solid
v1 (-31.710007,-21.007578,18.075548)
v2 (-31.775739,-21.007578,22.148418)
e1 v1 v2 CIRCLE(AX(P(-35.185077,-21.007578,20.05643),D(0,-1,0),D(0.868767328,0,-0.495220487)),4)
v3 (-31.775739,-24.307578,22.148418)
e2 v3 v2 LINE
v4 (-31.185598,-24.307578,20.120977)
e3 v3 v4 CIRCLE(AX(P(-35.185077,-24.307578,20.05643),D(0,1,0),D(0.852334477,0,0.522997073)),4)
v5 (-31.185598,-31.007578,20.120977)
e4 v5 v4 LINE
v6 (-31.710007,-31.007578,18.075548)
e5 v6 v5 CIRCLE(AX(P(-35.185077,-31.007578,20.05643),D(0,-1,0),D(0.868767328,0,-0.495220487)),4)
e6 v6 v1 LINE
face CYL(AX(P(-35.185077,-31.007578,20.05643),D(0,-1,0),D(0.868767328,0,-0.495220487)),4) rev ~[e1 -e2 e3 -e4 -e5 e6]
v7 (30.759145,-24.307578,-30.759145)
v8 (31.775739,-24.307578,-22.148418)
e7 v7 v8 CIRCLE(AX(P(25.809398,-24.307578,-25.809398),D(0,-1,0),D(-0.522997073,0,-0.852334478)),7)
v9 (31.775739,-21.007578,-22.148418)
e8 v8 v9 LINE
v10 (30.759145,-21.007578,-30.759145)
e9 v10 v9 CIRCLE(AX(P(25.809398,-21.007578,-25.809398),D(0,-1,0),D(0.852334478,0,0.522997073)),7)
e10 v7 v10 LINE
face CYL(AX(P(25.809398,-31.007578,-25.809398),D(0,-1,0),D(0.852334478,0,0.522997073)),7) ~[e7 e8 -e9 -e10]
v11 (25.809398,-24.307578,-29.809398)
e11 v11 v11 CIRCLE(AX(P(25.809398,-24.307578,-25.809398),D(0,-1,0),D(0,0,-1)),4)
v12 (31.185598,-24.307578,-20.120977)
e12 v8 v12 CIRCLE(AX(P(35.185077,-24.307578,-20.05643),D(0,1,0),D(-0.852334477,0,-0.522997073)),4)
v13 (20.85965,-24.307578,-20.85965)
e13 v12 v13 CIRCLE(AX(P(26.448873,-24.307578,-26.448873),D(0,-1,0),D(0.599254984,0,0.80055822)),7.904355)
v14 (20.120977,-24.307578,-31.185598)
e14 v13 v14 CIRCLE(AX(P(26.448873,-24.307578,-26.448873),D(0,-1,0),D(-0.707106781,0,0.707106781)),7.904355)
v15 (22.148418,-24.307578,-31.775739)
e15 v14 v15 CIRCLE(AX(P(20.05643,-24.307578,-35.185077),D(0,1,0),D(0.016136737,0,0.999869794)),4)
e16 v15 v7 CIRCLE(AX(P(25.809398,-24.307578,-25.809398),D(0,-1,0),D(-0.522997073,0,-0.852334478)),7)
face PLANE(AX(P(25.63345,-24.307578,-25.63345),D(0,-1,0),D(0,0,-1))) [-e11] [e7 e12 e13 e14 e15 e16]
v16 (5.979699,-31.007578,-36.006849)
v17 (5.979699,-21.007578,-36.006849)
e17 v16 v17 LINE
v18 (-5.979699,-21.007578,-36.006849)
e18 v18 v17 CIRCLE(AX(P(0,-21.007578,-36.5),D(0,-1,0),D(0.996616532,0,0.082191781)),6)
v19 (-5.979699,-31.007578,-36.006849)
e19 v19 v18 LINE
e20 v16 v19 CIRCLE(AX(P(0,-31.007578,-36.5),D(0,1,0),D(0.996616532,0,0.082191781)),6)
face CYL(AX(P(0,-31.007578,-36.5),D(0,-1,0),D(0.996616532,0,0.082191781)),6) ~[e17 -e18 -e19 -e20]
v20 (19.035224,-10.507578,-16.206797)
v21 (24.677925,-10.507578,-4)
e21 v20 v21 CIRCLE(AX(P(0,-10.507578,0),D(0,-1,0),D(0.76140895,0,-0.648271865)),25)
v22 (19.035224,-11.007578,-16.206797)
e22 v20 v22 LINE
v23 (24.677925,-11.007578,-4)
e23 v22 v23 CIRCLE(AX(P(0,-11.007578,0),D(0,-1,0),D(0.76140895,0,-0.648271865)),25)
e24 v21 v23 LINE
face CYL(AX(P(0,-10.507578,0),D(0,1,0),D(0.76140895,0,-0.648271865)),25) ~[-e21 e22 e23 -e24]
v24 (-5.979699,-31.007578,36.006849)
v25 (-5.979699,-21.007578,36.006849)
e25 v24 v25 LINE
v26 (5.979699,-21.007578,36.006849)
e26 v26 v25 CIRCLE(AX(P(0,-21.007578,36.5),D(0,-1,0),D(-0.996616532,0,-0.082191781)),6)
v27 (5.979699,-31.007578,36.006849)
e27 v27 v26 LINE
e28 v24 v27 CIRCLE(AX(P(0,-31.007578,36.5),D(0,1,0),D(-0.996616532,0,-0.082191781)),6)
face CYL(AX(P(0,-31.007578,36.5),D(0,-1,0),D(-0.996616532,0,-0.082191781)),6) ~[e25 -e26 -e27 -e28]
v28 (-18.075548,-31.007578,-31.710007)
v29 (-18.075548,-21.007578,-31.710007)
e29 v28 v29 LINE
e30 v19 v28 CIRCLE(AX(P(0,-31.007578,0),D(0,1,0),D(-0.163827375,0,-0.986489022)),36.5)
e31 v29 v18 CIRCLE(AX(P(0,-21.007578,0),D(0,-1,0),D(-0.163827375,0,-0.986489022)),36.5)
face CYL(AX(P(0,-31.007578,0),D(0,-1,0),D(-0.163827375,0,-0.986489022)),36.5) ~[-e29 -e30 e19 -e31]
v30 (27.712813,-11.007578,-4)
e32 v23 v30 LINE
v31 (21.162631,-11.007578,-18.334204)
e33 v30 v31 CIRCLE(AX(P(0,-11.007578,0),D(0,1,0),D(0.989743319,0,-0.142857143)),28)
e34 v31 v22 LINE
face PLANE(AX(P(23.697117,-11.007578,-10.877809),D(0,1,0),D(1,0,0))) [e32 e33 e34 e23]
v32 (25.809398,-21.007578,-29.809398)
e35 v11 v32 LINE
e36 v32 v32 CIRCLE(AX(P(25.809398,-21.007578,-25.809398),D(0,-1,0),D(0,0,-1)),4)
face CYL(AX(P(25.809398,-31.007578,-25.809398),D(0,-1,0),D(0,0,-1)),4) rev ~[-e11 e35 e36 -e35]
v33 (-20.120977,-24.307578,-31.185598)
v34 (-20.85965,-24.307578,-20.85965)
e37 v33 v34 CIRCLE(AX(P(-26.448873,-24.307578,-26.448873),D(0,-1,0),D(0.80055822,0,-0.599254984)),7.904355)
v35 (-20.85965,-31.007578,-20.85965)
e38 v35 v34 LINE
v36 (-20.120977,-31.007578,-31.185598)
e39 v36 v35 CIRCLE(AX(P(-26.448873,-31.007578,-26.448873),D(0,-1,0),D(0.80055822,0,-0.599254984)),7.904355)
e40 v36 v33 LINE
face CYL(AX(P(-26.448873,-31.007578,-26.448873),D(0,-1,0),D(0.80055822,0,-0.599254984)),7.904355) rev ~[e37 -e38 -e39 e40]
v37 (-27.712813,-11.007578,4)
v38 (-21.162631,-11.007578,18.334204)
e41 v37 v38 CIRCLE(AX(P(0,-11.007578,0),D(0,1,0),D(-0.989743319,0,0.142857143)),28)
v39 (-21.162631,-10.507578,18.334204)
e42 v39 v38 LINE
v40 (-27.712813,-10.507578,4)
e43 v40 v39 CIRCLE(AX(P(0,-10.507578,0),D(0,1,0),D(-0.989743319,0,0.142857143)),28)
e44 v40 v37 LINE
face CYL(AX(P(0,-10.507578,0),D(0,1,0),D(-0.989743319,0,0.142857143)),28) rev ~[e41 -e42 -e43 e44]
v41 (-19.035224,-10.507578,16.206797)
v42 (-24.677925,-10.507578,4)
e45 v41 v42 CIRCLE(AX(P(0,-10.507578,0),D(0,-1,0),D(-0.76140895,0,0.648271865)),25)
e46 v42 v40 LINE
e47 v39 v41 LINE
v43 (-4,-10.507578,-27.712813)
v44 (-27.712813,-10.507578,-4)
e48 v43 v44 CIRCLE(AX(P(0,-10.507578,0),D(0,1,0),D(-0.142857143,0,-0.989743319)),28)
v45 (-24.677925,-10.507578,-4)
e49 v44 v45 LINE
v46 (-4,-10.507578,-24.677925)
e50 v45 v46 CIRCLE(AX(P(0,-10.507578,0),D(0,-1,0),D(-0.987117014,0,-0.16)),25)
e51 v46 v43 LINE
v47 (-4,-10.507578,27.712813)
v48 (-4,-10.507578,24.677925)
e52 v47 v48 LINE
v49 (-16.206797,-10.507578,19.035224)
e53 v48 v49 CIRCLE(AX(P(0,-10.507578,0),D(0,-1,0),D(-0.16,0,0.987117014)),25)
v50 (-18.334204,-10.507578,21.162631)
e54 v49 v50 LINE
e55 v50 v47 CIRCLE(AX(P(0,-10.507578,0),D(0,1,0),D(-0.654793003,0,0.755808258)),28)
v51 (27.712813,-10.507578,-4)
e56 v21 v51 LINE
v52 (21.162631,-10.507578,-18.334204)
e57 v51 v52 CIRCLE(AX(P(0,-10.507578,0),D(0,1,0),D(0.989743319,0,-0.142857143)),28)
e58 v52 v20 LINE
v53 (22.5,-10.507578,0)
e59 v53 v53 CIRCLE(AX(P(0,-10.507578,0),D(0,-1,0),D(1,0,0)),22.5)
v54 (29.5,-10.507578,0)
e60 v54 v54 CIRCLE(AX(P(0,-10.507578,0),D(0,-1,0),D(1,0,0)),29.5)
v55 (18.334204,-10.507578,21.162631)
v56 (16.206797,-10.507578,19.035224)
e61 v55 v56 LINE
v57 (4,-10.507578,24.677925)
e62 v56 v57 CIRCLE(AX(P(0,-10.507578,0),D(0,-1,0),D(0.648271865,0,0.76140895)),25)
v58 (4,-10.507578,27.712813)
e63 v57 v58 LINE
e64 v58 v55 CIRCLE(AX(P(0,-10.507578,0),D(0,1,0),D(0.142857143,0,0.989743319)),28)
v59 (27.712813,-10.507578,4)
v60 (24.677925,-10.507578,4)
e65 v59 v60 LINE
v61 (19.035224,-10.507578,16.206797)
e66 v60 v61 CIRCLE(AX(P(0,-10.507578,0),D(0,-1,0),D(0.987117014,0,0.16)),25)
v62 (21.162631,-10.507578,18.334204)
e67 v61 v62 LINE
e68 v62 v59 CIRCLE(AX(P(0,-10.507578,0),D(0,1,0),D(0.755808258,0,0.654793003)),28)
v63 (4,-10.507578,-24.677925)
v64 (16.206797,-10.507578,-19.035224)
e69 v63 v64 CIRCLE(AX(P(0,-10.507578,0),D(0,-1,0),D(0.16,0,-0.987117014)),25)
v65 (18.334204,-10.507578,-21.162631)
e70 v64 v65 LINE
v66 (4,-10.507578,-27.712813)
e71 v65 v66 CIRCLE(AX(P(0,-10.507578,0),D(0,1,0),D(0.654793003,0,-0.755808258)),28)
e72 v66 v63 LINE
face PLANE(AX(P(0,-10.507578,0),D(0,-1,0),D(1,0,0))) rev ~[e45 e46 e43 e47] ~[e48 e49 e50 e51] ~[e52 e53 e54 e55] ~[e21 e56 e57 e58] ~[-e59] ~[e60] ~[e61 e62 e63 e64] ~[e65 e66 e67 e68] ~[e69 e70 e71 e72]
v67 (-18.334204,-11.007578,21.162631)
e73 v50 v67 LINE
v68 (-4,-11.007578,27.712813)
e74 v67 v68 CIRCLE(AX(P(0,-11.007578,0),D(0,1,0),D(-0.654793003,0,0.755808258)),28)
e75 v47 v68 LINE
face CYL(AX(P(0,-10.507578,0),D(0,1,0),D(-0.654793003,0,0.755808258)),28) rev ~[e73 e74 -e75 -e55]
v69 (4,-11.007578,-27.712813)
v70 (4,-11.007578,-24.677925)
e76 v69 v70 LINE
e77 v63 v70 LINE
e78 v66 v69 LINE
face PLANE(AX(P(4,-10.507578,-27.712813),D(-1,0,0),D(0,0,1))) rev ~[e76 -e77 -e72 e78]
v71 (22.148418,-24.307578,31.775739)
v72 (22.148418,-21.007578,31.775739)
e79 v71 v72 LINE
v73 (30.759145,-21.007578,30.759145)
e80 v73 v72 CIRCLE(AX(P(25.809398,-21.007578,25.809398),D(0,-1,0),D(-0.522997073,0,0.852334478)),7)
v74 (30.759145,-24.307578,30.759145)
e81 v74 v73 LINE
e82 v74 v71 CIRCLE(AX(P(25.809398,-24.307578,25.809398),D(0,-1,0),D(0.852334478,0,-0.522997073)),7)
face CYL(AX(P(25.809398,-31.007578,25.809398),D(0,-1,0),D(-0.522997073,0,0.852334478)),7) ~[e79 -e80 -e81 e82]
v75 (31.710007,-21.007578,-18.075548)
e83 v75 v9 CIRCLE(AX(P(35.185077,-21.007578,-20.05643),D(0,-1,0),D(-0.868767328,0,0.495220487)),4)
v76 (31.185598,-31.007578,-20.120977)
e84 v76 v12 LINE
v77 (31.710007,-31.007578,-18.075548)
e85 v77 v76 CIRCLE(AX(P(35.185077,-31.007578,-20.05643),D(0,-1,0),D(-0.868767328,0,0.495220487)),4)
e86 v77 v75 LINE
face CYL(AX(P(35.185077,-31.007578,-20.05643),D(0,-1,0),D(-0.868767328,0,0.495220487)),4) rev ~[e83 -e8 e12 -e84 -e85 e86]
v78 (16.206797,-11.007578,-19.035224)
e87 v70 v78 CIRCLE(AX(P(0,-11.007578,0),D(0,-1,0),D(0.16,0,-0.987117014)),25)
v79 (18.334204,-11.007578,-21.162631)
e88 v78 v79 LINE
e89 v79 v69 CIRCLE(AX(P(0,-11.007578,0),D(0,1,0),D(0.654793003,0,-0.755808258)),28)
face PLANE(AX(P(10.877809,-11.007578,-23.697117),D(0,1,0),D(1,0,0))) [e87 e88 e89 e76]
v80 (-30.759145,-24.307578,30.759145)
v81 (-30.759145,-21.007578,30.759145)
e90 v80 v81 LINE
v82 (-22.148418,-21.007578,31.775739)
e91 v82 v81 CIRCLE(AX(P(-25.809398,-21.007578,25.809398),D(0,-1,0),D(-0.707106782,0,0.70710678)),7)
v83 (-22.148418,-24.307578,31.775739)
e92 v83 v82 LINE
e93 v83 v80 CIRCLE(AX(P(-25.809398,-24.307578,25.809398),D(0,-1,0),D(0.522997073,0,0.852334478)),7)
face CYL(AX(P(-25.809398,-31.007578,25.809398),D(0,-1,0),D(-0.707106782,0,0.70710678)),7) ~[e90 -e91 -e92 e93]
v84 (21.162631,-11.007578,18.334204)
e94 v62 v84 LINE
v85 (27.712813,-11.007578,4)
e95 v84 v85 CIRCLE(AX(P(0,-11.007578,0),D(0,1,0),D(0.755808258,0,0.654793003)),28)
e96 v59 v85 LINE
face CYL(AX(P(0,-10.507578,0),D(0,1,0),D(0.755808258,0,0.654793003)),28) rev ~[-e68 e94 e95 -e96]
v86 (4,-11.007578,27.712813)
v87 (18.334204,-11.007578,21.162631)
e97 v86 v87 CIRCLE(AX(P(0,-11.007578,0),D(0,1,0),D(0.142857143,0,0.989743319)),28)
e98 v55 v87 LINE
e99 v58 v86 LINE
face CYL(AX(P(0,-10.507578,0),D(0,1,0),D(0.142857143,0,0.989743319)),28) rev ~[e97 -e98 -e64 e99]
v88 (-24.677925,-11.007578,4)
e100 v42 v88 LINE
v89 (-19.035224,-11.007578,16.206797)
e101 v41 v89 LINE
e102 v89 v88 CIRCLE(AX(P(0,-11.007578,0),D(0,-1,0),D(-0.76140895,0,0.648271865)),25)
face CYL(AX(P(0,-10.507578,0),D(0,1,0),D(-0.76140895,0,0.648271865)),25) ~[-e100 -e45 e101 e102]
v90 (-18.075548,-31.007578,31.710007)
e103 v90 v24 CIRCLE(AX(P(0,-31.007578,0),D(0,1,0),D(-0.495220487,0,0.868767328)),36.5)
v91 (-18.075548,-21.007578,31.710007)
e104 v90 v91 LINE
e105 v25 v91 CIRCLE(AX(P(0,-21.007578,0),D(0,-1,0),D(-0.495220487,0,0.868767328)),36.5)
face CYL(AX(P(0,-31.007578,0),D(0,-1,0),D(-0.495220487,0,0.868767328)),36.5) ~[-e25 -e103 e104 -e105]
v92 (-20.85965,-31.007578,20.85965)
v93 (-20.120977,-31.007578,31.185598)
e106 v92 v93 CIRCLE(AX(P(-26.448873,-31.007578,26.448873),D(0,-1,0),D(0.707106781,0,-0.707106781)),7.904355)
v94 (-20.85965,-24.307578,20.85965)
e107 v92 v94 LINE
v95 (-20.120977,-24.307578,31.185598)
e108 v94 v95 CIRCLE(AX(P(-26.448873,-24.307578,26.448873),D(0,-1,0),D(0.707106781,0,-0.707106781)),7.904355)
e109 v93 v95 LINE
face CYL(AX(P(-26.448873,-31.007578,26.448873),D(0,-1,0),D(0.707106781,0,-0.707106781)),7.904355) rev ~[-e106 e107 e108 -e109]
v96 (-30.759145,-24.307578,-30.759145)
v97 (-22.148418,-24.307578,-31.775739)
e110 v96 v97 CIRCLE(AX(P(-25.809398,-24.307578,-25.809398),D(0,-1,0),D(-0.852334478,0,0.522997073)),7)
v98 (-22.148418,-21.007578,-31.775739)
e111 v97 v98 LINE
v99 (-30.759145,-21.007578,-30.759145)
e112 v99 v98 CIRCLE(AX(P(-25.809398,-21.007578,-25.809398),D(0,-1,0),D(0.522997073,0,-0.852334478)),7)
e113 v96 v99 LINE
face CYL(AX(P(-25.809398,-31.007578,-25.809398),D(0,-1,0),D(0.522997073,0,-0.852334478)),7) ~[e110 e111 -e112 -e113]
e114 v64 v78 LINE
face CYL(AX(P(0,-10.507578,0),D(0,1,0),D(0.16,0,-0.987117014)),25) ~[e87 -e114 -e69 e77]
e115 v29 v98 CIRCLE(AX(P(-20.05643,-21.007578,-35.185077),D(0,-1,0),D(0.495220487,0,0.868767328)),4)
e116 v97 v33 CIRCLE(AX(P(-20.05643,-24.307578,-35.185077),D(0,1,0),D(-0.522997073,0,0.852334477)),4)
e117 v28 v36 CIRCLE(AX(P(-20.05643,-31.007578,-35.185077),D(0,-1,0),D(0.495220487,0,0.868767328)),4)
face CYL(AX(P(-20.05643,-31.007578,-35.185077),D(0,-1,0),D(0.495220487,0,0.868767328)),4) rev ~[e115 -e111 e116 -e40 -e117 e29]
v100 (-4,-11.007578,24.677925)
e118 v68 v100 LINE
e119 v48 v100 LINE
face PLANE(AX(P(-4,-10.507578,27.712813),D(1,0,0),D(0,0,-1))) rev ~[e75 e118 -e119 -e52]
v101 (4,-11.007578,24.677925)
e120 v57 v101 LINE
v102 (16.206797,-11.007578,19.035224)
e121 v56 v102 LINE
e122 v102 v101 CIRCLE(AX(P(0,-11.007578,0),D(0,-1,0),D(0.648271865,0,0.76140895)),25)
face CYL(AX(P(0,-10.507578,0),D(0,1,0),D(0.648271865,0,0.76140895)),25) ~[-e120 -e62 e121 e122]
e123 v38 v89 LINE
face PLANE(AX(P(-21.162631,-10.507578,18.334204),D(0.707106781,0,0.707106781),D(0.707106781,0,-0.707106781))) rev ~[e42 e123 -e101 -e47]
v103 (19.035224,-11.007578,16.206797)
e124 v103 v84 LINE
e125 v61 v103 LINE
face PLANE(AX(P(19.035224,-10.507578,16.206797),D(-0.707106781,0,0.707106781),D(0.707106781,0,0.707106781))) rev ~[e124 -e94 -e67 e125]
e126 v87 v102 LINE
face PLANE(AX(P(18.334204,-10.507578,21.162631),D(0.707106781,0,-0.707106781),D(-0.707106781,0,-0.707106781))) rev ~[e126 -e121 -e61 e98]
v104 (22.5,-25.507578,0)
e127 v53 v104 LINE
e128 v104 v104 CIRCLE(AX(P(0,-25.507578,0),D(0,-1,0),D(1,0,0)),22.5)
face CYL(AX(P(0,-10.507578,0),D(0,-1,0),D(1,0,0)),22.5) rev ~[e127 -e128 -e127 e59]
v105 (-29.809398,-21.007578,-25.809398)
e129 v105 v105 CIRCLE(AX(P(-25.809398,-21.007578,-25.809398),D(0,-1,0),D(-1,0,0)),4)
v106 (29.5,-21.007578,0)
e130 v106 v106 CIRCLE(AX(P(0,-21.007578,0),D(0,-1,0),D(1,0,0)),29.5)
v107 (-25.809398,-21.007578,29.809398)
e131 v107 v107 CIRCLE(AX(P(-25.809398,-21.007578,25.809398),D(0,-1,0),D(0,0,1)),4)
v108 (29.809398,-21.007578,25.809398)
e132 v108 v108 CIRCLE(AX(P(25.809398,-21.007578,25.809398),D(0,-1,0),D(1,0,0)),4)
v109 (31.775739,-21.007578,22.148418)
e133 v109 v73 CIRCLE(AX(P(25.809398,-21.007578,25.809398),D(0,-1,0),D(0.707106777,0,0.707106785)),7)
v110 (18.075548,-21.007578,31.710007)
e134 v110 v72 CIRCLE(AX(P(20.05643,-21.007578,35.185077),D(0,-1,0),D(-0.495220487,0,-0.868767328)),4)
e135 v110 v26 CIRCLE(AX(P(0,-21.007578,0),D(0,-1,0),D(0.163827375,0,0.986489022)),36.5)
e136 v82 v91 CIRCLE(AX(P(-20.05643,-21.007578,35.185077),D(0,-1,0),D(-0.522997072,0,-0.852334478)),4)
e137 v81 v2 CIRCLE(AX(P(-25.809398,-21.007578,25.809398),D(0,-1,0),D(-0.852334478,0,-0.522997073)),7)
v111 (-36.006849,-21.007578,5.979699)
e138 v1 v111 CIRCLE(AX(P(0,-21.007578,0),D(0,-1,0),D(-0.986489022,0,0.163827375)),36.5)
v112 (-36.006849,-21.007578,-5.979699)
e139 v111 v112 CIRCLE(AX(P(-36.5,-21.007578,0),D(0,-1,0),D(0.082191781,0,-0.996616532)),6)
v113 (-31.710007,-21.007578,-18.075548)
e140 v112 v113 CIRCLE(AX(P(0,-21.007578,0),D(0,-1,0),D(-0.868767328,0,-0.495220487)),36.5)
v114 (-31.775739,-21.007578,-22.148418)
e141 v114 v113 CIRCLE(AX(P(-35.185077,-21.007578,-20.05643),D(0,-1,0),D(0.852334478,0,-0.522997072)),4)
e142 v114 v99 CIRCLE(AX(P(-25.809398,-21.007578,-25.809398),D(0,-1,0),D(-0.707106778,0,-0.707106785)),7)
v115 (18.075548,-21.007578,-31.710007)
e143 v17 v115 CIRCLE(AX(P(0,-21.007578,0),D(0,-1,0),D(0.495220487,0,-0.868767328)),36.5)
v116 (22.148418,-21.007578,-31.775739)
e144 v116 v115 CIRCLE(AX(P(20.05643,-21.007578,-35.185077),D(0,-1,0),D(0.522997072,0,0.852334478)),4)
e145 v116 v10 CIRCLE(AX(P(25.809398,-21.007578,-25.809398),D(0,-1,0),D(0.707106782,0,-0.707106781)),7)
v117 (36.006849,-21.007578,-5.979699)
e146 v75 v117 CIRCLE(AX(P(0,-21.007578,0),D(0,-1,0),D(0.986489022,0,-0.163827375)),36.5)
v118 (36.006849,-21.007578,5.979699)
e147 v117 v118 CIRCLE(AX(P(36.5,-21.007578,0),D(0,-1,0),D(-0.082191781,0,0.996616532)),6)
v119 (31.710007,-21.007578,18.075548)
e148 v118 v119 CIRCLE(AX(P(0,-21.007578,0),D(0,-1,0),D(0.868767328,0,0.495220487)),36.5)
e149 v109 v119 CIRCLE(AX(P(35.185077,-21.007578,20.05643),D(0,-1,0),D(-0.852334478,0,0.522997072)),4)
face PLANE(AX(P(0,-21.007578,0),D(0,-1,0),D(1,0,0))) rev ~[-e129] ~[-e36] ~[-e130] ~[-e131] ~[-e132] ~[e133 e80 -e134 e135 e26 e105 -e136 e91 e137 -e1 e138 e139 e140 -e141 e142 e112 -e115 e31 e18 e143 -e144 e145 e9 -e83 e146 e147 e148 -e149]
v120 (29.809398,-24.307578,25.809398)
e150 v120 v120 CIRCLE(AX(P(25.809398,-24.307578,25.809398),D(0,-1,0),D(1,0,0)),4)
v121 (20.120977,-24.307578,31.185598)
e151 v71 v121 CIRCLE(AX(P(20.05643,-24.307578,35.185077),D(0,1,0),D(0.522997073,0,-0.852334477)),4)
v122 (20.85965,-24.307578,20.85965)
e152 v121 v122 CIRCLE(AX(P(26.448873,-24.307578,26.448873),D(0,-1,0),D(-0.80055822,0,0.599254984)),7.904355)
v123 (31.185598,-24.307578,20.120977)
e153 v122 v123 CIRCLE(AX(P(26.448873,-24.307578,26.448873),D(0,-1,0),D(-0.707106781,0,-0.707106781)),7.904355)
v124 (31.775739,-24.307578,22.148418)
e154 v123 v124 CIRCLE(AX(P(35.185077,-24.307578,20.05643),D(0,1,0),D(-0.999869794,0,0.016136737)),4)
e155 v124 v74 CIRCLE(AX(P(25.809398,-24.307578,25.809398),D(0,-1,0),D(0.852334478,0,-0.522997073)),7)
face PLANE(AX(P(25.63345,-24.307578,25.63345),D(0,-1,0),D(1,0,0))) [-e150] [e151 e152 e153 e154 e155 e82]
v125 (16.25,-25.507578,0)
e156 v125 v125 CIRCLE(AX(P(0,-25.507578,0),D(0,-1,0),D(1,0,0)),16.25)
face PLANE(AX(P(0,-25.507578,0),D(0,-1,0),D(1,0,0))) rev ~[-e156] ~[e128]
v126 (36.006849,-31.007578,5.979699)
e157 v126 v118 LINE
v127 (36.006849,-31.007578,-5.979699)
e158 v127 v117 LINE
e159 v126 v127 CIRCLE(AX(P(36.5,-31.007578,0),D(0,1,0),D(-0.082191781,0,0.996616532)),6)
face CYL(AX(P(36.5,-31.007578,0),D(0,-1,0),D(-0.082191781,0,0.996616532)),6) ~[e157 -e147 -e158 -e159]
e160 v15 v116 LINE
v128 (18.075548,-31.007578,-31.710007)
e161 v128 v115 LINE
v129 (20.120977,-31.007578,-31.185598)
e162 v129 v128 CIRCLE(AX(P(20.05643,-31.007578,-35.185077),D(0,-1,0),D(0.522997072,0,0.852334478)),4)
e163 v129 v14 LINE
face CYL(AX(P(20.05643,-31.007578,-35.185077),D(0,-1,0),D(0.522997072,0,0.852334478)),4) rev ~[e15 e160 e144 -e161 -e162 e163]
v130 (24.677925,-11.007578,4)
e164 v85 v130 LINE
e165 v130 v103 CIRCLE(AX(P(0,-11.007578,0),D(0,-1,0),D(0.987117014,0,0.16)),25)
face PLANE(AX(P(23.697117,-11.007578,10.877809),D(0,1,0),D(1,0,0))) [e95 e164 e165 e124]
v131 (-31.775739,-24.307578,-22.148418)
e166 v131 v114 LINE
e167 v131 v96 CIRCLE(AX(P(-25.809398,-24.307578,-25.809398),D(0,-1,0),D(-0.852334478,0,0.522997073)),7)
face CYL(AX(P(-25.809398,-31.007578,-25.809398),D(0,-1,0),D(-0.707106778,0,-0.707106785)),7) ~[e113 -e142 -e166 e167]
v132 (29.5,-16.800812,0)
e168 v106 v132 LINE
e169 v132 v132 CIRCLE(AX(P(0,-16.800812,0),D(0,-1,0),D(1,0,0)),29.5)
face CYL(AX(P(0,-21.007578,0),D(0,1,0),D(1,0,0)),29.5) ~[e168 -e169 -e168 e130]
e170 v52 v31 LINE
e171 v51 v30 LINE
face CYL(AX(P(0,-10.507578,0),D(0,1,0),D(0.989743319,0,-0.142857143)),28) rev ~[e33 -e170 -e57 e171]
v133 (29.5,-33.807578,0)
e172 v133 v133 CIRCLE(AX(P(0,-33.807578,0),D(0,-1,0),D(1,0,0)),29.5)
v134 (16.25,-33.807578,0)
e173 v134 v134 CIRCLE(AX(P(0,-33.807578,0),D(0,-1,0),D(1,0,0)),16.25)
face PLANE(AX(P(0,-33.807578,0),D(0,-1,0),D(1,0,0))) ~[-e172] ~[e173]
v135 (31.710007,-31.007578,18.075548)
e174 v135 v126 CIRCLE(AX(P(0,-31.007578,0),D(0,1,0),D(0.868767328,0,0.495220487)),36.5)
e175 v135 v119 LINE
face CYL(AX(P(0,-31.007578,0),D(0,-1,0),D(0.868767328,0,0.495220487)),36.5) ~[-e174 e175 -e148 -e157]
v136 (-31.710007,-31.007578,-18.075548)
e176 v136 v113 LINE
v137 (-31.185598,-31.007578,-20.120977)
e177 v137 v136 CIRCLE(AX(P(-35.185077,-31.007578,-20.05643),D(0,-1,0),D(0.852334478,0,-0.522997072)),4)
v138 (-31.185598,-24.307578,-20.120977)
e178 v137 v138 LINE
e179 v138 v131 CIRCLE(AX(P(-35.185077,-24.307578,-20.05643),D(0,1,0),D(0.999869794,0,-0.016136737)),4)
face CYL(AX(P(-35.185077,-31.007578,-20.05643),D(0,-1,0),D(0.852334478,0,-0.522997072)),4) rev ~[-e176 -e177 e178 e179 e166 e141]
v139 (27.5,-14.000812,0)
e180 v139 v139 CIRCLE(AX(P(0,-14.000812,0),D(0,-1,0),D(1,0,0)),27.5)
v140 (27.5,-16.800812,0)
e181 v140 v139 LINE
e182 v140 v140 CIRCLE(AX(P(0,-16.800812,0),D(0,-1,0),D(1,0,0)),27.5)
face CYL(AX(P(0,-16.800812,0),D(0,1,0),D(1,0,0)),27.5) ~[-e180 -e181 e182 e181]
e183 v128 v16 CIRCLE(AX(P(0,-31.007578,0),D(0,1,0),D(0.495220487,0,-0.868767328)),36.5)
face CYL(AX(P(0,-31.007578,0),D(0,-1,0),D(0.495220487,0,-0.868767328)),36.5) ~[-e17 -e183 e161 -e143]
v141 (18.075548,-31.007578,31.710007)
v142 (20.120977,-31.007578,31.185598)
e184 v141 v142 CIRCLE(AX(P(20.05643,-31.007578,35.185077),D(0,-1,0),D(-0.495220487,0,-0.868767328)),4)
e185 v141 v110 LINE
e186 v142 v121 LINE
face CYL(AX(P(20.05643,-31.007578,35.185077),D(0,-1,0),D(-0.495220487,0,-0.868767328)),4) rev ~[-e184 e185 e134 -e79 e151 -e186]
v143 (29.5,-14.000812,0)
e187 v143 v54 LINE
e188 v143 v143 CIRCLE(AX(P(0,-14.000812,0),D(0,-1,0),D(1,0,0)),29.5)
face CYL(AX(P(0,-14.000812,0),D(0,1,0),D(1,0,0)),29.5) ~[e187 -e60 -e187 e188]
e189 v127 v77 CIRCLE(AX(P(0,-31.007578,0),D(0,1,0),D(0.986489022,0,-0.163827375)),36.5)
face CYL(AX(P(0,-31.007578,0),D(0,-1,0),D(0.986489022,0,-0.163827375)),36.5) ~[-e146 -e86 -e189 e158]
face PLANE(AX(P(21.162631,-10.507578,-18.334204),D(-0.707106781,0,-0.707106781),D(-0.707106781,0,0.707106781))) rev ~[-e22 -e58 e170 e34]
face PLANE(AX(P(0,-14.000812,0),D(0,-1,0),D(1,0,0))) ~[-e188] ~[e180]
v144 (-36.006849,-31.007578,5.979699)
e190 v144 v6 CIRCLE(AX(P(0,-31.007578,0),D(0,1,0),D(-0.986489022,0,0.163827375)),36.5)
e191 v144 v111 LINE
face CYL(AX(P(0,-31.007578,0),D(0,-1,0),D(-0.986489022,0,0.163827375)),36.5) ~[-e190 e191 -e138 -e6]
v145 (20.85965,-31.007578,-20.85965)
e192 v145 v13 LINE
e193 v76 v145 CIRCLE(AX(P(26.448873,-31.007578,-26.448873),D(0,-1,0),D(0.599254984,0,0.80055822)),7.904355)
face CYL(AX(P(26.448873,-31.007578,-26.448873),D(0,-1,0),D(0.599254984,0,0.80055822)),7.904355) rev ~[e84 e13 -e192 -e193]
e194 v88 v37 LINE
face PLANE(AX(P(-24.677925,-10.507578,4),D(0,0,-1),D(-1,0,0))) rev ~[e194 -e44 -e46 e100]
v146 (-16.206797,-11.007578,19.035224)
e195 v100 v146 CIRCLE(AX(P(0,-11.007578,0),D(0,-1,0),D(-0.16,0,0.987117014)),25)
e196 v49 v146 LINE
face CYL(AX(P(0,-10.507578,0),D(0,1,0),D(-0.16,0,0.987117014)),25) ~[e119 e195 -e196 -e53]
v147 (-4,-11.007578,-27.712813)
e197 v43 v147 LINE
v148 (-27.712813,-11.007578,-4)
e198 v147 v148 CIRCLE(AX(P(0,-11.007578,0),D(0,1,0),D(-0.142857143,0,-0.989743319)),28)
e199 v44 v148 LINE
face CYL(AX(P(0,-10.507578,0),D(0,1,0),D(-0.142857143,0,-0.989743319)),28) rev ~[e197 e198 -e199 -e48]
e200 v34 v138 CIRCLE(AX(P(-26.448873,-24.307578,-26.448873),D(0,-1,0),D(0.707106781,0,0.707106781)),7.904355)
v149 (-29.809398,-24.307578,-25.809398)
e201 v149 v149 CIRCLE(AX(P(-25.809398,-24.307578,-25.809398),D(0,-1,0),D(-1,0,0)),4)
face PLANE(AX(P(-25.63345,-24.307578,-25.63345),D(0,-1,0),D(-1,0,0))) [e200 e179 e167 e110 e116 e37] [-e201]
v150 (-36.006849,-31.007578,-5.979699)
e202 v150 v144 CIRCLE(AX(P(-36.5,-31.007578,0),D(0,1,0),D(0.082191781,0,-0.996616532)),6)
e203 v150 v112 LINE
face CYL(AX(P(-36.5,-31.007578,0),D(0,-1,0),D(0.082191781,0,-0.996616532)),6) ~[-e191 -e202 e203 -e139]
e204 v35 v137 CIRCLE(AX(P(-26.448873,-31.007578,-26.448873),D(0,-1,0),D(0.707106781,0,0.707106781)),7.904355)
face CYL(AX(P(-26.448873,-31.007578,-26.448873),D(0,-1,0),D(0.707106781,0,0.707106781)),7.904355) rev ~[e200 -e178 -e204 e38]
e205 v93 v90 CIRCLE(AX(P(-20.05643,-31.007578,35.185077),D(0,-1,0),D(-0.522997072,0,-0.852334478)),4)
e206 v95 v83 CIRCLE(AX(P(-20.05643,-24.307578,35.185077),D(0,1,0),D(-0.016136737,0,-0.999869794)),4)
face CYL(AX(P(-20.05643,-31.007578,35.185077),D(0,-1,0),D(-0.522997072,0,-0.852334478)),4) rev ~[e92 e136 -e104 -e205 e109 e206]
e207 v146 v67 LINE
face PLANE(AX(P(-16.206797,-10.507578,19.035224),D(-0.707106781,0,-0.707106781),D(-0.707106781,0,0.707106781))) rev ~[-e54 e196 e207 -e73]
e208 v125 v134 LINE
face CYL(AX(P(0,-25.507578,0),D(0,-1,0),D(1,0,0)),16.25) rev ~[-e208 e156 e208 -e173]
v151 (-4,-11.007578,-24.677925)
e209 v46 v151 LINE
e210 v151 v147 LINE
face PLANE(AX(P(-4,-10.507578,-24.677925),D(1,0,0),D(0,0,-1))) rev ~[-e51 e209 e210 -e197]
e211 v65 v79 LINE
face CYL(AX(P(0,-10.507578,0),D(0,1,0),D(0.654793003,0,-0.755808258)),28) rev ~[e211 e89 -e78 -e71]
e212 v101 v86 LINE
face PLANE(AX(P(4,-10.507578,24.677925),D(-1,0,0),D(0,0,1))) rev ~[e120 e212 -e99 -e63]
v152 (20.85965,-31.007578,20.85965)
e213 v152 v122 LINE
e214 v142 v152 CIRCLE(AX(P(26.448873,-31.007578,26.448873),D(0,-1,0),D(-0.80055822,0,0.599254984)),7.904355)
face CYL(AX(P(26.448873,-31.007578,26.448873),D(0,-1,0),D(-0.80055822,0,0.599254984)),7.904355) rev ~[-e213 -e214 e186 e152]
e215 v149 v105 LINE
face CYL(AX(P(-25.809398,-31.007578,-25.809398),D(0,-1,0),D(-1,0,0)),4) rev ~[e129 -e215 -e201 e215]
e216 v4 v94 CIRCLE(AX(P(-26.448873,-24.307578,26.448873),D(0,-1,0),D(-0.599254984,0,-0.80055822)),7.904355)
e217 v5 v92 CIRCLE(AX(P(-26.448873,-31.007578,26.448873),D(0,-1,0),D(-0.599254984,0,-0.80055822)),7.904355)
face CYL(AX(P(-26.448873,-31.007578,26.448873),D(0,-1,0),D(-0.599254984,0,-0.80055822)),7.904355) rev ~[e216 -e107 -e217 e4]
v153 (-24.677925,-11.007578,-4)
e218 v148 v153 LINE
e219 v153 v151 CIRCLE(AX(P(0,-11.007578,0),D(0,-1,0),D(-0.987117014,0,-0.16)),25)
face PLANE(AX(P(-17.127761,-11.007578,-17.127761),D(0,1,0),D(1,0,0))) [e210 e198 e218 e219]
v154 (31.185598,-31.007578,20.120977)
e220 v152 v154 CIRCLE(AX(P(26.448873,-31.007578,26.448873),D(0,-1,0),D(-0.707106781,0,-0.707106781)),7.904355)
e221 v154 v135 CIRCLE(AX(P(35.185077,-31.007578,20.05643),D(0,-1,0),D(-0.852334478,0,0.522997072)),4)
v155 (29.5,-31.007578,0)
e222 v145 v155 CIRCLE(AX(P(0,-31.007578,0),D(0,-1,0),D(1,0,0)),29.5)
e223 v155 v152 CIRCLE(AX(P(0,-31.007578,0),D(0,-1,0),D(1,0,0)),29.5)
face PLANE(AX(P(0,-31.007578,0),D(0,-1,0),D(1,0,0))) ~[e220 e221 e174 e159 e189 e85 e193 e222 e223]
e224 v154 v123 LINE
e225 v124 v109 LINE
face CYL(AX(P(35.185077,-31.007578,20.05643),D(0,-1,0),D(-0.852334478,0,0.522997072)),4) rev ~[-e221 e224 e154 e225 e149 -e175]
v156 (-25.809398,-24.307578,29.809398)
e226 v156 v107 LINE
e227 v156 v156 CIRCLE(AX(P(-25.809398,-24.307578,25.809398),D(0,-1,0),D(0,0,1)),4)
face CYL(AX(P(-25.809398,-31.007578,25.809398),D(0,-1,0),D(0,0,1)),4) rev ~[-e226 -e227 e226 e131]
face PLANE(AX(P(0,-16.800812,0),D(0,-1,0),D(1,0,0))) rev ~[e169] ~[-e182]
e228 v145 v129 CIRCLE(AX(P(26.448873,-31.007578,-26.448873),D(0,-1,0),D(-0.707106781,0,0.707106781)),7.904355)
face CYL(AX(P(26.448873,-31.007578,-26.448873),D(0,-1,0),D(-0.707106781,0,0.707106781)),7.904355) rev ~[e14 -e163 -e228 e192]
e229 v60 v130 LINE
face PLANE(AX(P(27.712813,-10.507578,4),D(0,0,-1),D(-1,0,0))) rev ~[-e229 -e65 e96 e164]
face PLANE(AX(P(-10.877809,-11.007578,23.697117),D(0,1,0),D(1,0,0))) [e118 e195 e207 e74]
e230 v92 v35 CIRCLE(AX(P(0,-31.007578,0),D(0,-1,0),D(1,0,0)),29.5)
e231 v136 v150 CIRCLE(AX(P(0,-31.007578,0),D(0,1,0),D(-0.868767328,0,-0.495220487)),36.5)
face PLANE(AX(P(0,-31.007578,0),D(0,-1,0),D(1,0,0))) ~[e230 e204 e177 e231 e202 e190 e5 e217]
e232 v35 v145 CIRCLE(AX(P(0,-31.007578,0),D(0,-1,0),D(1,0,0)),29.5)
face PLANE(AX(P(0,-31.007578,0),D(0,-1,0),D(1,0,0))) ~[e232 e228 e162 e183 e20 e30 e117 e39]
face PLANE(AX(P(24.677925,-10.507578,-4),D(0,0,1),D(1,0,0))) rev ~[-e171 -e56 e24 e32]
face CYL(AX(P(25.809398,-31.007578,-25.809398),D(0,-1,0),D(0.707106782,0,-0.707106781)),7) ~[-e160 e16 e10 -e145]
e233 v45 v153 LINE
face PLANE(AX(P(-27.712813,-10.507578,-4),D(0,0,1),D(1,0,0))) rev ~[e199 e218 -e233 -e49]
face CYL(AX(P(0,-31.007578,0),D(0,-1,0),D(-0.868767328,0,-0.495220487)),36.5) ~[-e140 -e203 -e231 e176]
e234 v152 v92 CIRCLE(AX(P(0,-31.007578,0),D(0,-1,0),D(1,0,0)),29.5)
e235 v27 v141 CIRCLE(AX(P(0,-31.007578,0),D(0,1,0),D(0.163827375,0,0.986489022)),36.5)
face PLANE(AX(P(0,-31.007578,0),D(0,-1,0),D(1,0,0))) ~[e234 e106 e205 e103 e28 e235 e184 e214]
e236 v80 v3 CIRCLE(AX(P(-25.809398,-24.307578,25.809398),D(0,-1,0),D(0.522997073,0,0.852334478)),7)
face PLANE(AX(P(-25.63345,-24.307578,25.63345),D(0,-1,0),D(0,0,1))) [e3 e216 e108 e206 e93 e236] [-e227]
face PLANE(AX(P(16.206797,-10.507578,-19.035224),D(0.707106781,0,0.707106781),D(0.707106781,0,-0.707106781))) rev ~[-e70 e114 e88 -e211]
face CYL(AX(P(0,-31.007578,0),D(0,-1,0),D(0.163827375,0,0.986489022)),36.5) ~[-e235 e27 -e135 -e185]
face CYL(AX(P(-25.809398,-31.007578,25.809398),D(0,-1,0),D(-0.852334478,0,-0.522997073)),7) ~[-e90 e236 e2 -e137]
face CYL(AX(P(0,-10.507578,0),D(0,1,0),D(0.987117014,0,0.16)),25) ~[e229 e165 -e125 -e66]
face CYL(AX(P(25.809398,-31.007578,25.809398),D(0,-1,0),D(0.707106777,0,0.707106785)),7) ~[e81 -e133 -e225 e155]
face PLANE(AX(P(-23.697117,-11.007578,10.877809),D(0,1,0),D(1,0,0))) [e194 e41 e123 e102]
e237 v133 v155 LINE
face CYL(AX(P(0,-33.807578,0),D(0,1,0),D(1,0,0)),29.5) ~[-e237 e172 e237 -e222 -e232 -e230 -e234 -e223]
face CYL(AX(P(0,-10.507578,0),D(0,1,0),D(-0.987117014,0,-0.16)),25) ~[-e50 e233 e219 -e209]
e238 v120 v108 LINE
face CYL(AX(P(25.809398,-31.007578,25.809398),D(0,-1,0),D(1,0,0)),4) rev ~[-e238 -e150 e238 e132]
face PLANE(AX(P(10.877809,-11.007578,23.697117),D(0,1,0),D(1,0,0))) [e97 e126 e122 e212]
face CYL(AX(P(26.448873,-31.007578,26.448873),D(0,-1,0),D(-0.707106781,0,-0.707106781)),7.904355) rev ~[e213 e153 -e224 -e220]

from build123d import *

# Parameters (mm, degrees)
CUT_EXTRUDE2_DEPTH = 65.844043674
SKETCH4_R          = 4
CUT_EXTRUDE3_DEPTH = 6.7
SKETCH5_R          = 4
CUT_EXTRUDE4_DEPTH = 36.7
CIRPATTERN1_COUNT  = 4
CUT_EXTRUDE5_START = -0.5
SKETCH6_R          = 22.5
CUT_EXTRUDE5_DEPTH = 0.5


with BuildPart() as part:
    # Sketch1 → Revolve1 (revolve)
    with BuildSketch(Plane.XY):
        Polygon((16.25, -33.807578124), (29.5, -33.807578124), (29.5, -31.007578124), (43.5, -31.007578124), (43.5, -21.007578124), (29.5, -21.007578124), (29.5, -16.800812474), (27.5, -16.800812474), (27.5, -14.000812474), (29.5, -14.000812474), (29.5, -10.507578124), (22.5, -10.507578124), (22.5, -25.507578124), (16.25, -25.507578124), align=None)
    revolve(axis=Axis((0, 0, 0), (0, -1, 0)))

    # Sketch2 → Cut-Extrude2 (cut, through all)
    with BuildSketch(Plane.XZ.offset(31.007578124)):
        with BuildLine():
            ThreePointArc((-18.075547766, 31.710007458), (-12.217996522, 34.394339083), (-5.97969919, 36.006849315))
            ThreePointArc((-5.97969919, 36.006849315), (0, 42.5), (5.97969919, 36.006849315))
            ThreePointArc((5.97969919, 36.006849315), (12.217996522, 34.394339083), (18.075547766, 31.710007458))
            ThreePointArc((18.075547766, 31.710007458), (20.120976666, 31.185597591), (22.148418004, 31.775738857))
            ThreePointArc((22.148418004, 31.775738857), (26.630126737, 32.76111698), (30.759144954, 30.759145009))
            ThreePointArc((30.759144954, 30.759145009), (-2.4e-08, 43.5), (-30.759144987, 30.759144976))
            ThreePointArc((-30.759144987, 30.759144976), (-26.63012676, 32.761116977), (-22.148418004, 31.775738857))
            ThreePointArc((-22.148418004, 31.775738857), (-20.120976666, 31.185597591), (-18.075547766, 31.710007458))
        make_face()
        with BuildLine():
            ThreePointArc((-31.775738857, 22.148418004), (-32.761116978, 26.630126752), (-30.759144987, 30.759144976))
            ThreePointArc((-30.759144987, 30.759144976), (-43.5, -2.1e-08), (-30.759144958, -30.759145005))
            ThreePointArc((-30.759144958, -30.759145005), (-32.761116976, -26.630126773), (-31.775738857, -22.148418004))
            ThreePointArc((-31.775738857, -22.148418004), (-31.185597591, -20.120976666), (-31.710007458, -18.075547766))
            ThreePointArc((-31.710007458, -18.075547766), (-34.394339083, -12.217996522), (-36.006849315, -5.97969919))
            ThreePointArc((-36.006849315, -5.97969919), (-42.5, 0), (-36.006849315, 5.97969919))
            ThreePointArc((-36.006849315, 5.97969919), (-34.394339083, 12.217996522), (-31.710007458, 18.075547766))
            ThreePointArc((-31.710007458, 18.075547766), (-31.185597591, 20.120976666), (-31.775738857, 22.148418004))
        make_face()
        with BuildLine():
            ThreePointArc((30.759144986, -30.759144977), (43.5, 2.3e-08), (30.759144954, 30.759145009))
            ThreePointArc((30.759144954, 30.759145009), (32.761116975, 26.630126776), (31.775738857, 22.148418004))
            ThreePointArc((31.775738857, 22.148418004), (31.185597591, 20.120976666), (31.710007458, 18.075547766))
            ThreePointArc((31.710007458, 18.075547766), (34.394339083, 12.217996522), (36.006849315, 5.97969919))
            ThreePointArc((36.006849315, 5.97969919), (42.5, 0), (36.006849315, -5.97969919))
            ThreePointArc((36.006849315, -5.97969919), (34.394339083, -12.217996522), (31.710007458, -18.075547766))
            ThreePointArc((31.710007458, -18.075547766), (31.185597591, -20.120976666), (31.775738857, -22.148418004))
            ThreePointArc((31.775738857, -22.148418004), (32.761116978, -26.630126753), (30.759144986, -30.759144977))
        make_face()
        with BuildLine():
            ThreePointArc((-22.148418004, -31.775738857), (-26.630126739, -32.76111698), (-30.759144958, -30.759145005))
            ThreePointArc((-30.759144958, -30.759145005), (2e-08, -43.5), (30.759144986, -30.759144977))
            ThreePointArc((30.759144986, -30.759144977), (26.630126759, -32.761116977), (22.148418004, -31.775738857))
            ThreePointArc((22.148418004, -31.775738857), (20.120976666, -31.185597591), (18.075547766, -31.710007458))
            ThreePointArc((18.075547766, -31.710007458), (12.217996522, -34.394339083), (5.97969919, -36.006849315))
            ThreePointArc((5.97969919, -36.006849315), (0, -42.5), (-5.97969919, -36.006849315))
            ThreePointArc((-5.97969919, -36.006849315), (-12.217996522, -34.394339083), (-18.075547766, -31.710007458))
            ThreePointArc((-18.075547766, -31.710007458), (-20.120976666, -31.185597591), (-22.148418004, -31.775738857))
        make_face()
    extrude(amount=-CUT_EXTRUDE2_DEPTH, mode=Mode.SUBTRACT)

    # Sketch4 → Cut-Extrude3 (cut)
    with BuildSketch(Plane.XZ.offset(31.007578124)):
        with BuildLine():
            ThreePointArc((20.120976666, 31.185597591), (18.564665358, 25.884871335), (20.859650045, 20.859650045))
            ThreePointArc((20.859650045, 20.859650045), (25.884871335, 18.564665358), (31.185597591, 20.120976666))
            ThreePointArc((31.185597591, 20.120976666), (31.344468449, 21.174341938), (31.775738857, 22.148418004))
            ThreePointArc((31.775738857, 22.148418004), (30.759144982, 30.759144982), (22.148418004, 31.775738857))
            ThreePointArc((22.148418004, 31.775738857), (21.174341938, 31.344468449), (20.120976666, 31.185597591))
        make_face()
        with Locations((25.809397513, 25.809397513)):
            Circle(SKETCH4_R, mode=Mode.SUBTRACT)
    cut_extrude3 = extrude(amount=-CUT_EXTRUDE3_DEPTH, mode=Mode.SUBTRACT)

    # Sketch5 → Cut-Extrude4 (cut)
    with BuildSketch(Plane.XZ.offset(31.007578124)):
        with Locations((25.809397513, 25.809397513)):
            Circle(SKETCH5_R)
    cut_extrude4 = extrude(amount=-CUT_EXTRUDE4_DEPTH, mode=Mode.SUBTRACT)

    # CirPattern1: Cut-Extrude3, Cut-Extrude4 ×4 about axis
    cirpattern1_axis = Axis((0, -31.007578124, 0), (0, -1, 0))
    add([cut_extrude3.rotate(cirpattern1_axis, i * 360 / CIRPATTERN1_COUNT) for i in range(1, CIRPATTERN1_COUNT)], mode=Mode.SUBTRACT)
    add([cut_extrude4.rotate(cirpattern1_axis, i * 360 / CIRPATTERN1_COUNT) for i in range(1, CIRPATTERN1_COUNT)], mode=Mode.SUBTRACT)

    # Sketch6 → Cut-Extrude5 (cut)
    with BuildSketch(Plane(origin=(0, -10.507578124, 0), x_dir=(1, 0, 0), z_dir=(0, 1, 0)).offset(CUT_EXTRUDE5_START)):
        with BuildLine():
            Line((21.162631221, 18.334204096), (19.035223749, 16.206796624))
            ThreePointArc((19.035223749, 16.206796624), (22.692759246, 10.489932212), (24.677925359, 4))
            Line((24.677925359, 4), (27.712812921, 4))
            ThreePointArc((27.712812921, 4), (25.467029897, 11.637456261), (21.162631221, 18.334204096))
        make_face()
        with BuildLine():
            ThreePointArc((4, 24.677925359), (10.489932212, 22.692759246), (16.206796624, 19.035223749))
            Line((16.206796624, 19.035223749), (18.334204096, 21.162631221))
            ThreePointArc((18.334204096, 21.162631221), (11.637456261, 25.467029897), (4, 27.712812921))
            Line((4, 27.712812921), (4, 24.677925359))
        make_face()
        with BuildLine():
            Line((19.035223749, -16.206796624), (21.162631221, -18.334204096))
            ThreePointArc((21.162631221, -18.334204096), (25.467029897, -11.637456261), (27.712812921, -4))
            Line((27.712812921, -4), (24.677925359, -4))
            ThreePointArc((24.677925359, -4), (22.692759246, -10.489932212), (19.035223749, -16.206796624))
        make_face()
        with BuildLine():
            Line((18.334204096, -21.162631221), (16.206796624, -19.035223749))
            ThreePointArc((16.206796624, -19.035223749), (10.489932212, -22.692759246), (4, -24.677925359))
            Line((4, -24.677925359), (4, -27.712812921))
            ThreePointArc((4, -27.712812921), (11.637456261, -25.467029897), (18.334204096, -21.162631221))
        make_face()
        with BuildLine():
            Line((-4, 24.677925359), (-4, 27.712812921))
            ThreePointArc((-4, 27.712812921), (-19.798989873, 19.798989873), (-27.712812921, 4))
            Line((-27.712812921, 4), (-24.677925359, 4))
            ThreePointArc((-24.677925359, 4), (-17.67766953, 17.67766953), (-4, 24.677925359))
        make_face()
        with BuildLine():
            Line((-24.677925359, -4), (-27.712812921, -4))
            ThreePointArc((-27.712812921, -4), (-25.467029897, -11.637456261), (-21.162631221, -18.334204096))
            Line((-21.162631221, -18.334204096), (-19.035223749, -16.206796624))
            ThreePointArc((-19.035223749, -16.206796624), (-22.692759246, -10.489932212), (-24.677925359, -4))
        make_face()
        with BuildLine():
            Line((-16.206796624, -19.035223749), (-18.334204096, -21.162631221))
            ThreePointArc((-18.334204096, -21.162631221), (-11.637456261, -25.467029897), (-4, -27.712812921))
            Line((-4, -27.712812921), (-4, -24.677925359))
            ThreePointArc((-4, -24.677925359), (-10.489932212, -22.692759246), (-16.206796624, -19.035223749))
        make_face()
        Circle(SKETCH6_R)
    extrude(amount=CUT_EXTRUDE5_DEPTH, mode=Mode.SUBTRACT)


solid = part.part
